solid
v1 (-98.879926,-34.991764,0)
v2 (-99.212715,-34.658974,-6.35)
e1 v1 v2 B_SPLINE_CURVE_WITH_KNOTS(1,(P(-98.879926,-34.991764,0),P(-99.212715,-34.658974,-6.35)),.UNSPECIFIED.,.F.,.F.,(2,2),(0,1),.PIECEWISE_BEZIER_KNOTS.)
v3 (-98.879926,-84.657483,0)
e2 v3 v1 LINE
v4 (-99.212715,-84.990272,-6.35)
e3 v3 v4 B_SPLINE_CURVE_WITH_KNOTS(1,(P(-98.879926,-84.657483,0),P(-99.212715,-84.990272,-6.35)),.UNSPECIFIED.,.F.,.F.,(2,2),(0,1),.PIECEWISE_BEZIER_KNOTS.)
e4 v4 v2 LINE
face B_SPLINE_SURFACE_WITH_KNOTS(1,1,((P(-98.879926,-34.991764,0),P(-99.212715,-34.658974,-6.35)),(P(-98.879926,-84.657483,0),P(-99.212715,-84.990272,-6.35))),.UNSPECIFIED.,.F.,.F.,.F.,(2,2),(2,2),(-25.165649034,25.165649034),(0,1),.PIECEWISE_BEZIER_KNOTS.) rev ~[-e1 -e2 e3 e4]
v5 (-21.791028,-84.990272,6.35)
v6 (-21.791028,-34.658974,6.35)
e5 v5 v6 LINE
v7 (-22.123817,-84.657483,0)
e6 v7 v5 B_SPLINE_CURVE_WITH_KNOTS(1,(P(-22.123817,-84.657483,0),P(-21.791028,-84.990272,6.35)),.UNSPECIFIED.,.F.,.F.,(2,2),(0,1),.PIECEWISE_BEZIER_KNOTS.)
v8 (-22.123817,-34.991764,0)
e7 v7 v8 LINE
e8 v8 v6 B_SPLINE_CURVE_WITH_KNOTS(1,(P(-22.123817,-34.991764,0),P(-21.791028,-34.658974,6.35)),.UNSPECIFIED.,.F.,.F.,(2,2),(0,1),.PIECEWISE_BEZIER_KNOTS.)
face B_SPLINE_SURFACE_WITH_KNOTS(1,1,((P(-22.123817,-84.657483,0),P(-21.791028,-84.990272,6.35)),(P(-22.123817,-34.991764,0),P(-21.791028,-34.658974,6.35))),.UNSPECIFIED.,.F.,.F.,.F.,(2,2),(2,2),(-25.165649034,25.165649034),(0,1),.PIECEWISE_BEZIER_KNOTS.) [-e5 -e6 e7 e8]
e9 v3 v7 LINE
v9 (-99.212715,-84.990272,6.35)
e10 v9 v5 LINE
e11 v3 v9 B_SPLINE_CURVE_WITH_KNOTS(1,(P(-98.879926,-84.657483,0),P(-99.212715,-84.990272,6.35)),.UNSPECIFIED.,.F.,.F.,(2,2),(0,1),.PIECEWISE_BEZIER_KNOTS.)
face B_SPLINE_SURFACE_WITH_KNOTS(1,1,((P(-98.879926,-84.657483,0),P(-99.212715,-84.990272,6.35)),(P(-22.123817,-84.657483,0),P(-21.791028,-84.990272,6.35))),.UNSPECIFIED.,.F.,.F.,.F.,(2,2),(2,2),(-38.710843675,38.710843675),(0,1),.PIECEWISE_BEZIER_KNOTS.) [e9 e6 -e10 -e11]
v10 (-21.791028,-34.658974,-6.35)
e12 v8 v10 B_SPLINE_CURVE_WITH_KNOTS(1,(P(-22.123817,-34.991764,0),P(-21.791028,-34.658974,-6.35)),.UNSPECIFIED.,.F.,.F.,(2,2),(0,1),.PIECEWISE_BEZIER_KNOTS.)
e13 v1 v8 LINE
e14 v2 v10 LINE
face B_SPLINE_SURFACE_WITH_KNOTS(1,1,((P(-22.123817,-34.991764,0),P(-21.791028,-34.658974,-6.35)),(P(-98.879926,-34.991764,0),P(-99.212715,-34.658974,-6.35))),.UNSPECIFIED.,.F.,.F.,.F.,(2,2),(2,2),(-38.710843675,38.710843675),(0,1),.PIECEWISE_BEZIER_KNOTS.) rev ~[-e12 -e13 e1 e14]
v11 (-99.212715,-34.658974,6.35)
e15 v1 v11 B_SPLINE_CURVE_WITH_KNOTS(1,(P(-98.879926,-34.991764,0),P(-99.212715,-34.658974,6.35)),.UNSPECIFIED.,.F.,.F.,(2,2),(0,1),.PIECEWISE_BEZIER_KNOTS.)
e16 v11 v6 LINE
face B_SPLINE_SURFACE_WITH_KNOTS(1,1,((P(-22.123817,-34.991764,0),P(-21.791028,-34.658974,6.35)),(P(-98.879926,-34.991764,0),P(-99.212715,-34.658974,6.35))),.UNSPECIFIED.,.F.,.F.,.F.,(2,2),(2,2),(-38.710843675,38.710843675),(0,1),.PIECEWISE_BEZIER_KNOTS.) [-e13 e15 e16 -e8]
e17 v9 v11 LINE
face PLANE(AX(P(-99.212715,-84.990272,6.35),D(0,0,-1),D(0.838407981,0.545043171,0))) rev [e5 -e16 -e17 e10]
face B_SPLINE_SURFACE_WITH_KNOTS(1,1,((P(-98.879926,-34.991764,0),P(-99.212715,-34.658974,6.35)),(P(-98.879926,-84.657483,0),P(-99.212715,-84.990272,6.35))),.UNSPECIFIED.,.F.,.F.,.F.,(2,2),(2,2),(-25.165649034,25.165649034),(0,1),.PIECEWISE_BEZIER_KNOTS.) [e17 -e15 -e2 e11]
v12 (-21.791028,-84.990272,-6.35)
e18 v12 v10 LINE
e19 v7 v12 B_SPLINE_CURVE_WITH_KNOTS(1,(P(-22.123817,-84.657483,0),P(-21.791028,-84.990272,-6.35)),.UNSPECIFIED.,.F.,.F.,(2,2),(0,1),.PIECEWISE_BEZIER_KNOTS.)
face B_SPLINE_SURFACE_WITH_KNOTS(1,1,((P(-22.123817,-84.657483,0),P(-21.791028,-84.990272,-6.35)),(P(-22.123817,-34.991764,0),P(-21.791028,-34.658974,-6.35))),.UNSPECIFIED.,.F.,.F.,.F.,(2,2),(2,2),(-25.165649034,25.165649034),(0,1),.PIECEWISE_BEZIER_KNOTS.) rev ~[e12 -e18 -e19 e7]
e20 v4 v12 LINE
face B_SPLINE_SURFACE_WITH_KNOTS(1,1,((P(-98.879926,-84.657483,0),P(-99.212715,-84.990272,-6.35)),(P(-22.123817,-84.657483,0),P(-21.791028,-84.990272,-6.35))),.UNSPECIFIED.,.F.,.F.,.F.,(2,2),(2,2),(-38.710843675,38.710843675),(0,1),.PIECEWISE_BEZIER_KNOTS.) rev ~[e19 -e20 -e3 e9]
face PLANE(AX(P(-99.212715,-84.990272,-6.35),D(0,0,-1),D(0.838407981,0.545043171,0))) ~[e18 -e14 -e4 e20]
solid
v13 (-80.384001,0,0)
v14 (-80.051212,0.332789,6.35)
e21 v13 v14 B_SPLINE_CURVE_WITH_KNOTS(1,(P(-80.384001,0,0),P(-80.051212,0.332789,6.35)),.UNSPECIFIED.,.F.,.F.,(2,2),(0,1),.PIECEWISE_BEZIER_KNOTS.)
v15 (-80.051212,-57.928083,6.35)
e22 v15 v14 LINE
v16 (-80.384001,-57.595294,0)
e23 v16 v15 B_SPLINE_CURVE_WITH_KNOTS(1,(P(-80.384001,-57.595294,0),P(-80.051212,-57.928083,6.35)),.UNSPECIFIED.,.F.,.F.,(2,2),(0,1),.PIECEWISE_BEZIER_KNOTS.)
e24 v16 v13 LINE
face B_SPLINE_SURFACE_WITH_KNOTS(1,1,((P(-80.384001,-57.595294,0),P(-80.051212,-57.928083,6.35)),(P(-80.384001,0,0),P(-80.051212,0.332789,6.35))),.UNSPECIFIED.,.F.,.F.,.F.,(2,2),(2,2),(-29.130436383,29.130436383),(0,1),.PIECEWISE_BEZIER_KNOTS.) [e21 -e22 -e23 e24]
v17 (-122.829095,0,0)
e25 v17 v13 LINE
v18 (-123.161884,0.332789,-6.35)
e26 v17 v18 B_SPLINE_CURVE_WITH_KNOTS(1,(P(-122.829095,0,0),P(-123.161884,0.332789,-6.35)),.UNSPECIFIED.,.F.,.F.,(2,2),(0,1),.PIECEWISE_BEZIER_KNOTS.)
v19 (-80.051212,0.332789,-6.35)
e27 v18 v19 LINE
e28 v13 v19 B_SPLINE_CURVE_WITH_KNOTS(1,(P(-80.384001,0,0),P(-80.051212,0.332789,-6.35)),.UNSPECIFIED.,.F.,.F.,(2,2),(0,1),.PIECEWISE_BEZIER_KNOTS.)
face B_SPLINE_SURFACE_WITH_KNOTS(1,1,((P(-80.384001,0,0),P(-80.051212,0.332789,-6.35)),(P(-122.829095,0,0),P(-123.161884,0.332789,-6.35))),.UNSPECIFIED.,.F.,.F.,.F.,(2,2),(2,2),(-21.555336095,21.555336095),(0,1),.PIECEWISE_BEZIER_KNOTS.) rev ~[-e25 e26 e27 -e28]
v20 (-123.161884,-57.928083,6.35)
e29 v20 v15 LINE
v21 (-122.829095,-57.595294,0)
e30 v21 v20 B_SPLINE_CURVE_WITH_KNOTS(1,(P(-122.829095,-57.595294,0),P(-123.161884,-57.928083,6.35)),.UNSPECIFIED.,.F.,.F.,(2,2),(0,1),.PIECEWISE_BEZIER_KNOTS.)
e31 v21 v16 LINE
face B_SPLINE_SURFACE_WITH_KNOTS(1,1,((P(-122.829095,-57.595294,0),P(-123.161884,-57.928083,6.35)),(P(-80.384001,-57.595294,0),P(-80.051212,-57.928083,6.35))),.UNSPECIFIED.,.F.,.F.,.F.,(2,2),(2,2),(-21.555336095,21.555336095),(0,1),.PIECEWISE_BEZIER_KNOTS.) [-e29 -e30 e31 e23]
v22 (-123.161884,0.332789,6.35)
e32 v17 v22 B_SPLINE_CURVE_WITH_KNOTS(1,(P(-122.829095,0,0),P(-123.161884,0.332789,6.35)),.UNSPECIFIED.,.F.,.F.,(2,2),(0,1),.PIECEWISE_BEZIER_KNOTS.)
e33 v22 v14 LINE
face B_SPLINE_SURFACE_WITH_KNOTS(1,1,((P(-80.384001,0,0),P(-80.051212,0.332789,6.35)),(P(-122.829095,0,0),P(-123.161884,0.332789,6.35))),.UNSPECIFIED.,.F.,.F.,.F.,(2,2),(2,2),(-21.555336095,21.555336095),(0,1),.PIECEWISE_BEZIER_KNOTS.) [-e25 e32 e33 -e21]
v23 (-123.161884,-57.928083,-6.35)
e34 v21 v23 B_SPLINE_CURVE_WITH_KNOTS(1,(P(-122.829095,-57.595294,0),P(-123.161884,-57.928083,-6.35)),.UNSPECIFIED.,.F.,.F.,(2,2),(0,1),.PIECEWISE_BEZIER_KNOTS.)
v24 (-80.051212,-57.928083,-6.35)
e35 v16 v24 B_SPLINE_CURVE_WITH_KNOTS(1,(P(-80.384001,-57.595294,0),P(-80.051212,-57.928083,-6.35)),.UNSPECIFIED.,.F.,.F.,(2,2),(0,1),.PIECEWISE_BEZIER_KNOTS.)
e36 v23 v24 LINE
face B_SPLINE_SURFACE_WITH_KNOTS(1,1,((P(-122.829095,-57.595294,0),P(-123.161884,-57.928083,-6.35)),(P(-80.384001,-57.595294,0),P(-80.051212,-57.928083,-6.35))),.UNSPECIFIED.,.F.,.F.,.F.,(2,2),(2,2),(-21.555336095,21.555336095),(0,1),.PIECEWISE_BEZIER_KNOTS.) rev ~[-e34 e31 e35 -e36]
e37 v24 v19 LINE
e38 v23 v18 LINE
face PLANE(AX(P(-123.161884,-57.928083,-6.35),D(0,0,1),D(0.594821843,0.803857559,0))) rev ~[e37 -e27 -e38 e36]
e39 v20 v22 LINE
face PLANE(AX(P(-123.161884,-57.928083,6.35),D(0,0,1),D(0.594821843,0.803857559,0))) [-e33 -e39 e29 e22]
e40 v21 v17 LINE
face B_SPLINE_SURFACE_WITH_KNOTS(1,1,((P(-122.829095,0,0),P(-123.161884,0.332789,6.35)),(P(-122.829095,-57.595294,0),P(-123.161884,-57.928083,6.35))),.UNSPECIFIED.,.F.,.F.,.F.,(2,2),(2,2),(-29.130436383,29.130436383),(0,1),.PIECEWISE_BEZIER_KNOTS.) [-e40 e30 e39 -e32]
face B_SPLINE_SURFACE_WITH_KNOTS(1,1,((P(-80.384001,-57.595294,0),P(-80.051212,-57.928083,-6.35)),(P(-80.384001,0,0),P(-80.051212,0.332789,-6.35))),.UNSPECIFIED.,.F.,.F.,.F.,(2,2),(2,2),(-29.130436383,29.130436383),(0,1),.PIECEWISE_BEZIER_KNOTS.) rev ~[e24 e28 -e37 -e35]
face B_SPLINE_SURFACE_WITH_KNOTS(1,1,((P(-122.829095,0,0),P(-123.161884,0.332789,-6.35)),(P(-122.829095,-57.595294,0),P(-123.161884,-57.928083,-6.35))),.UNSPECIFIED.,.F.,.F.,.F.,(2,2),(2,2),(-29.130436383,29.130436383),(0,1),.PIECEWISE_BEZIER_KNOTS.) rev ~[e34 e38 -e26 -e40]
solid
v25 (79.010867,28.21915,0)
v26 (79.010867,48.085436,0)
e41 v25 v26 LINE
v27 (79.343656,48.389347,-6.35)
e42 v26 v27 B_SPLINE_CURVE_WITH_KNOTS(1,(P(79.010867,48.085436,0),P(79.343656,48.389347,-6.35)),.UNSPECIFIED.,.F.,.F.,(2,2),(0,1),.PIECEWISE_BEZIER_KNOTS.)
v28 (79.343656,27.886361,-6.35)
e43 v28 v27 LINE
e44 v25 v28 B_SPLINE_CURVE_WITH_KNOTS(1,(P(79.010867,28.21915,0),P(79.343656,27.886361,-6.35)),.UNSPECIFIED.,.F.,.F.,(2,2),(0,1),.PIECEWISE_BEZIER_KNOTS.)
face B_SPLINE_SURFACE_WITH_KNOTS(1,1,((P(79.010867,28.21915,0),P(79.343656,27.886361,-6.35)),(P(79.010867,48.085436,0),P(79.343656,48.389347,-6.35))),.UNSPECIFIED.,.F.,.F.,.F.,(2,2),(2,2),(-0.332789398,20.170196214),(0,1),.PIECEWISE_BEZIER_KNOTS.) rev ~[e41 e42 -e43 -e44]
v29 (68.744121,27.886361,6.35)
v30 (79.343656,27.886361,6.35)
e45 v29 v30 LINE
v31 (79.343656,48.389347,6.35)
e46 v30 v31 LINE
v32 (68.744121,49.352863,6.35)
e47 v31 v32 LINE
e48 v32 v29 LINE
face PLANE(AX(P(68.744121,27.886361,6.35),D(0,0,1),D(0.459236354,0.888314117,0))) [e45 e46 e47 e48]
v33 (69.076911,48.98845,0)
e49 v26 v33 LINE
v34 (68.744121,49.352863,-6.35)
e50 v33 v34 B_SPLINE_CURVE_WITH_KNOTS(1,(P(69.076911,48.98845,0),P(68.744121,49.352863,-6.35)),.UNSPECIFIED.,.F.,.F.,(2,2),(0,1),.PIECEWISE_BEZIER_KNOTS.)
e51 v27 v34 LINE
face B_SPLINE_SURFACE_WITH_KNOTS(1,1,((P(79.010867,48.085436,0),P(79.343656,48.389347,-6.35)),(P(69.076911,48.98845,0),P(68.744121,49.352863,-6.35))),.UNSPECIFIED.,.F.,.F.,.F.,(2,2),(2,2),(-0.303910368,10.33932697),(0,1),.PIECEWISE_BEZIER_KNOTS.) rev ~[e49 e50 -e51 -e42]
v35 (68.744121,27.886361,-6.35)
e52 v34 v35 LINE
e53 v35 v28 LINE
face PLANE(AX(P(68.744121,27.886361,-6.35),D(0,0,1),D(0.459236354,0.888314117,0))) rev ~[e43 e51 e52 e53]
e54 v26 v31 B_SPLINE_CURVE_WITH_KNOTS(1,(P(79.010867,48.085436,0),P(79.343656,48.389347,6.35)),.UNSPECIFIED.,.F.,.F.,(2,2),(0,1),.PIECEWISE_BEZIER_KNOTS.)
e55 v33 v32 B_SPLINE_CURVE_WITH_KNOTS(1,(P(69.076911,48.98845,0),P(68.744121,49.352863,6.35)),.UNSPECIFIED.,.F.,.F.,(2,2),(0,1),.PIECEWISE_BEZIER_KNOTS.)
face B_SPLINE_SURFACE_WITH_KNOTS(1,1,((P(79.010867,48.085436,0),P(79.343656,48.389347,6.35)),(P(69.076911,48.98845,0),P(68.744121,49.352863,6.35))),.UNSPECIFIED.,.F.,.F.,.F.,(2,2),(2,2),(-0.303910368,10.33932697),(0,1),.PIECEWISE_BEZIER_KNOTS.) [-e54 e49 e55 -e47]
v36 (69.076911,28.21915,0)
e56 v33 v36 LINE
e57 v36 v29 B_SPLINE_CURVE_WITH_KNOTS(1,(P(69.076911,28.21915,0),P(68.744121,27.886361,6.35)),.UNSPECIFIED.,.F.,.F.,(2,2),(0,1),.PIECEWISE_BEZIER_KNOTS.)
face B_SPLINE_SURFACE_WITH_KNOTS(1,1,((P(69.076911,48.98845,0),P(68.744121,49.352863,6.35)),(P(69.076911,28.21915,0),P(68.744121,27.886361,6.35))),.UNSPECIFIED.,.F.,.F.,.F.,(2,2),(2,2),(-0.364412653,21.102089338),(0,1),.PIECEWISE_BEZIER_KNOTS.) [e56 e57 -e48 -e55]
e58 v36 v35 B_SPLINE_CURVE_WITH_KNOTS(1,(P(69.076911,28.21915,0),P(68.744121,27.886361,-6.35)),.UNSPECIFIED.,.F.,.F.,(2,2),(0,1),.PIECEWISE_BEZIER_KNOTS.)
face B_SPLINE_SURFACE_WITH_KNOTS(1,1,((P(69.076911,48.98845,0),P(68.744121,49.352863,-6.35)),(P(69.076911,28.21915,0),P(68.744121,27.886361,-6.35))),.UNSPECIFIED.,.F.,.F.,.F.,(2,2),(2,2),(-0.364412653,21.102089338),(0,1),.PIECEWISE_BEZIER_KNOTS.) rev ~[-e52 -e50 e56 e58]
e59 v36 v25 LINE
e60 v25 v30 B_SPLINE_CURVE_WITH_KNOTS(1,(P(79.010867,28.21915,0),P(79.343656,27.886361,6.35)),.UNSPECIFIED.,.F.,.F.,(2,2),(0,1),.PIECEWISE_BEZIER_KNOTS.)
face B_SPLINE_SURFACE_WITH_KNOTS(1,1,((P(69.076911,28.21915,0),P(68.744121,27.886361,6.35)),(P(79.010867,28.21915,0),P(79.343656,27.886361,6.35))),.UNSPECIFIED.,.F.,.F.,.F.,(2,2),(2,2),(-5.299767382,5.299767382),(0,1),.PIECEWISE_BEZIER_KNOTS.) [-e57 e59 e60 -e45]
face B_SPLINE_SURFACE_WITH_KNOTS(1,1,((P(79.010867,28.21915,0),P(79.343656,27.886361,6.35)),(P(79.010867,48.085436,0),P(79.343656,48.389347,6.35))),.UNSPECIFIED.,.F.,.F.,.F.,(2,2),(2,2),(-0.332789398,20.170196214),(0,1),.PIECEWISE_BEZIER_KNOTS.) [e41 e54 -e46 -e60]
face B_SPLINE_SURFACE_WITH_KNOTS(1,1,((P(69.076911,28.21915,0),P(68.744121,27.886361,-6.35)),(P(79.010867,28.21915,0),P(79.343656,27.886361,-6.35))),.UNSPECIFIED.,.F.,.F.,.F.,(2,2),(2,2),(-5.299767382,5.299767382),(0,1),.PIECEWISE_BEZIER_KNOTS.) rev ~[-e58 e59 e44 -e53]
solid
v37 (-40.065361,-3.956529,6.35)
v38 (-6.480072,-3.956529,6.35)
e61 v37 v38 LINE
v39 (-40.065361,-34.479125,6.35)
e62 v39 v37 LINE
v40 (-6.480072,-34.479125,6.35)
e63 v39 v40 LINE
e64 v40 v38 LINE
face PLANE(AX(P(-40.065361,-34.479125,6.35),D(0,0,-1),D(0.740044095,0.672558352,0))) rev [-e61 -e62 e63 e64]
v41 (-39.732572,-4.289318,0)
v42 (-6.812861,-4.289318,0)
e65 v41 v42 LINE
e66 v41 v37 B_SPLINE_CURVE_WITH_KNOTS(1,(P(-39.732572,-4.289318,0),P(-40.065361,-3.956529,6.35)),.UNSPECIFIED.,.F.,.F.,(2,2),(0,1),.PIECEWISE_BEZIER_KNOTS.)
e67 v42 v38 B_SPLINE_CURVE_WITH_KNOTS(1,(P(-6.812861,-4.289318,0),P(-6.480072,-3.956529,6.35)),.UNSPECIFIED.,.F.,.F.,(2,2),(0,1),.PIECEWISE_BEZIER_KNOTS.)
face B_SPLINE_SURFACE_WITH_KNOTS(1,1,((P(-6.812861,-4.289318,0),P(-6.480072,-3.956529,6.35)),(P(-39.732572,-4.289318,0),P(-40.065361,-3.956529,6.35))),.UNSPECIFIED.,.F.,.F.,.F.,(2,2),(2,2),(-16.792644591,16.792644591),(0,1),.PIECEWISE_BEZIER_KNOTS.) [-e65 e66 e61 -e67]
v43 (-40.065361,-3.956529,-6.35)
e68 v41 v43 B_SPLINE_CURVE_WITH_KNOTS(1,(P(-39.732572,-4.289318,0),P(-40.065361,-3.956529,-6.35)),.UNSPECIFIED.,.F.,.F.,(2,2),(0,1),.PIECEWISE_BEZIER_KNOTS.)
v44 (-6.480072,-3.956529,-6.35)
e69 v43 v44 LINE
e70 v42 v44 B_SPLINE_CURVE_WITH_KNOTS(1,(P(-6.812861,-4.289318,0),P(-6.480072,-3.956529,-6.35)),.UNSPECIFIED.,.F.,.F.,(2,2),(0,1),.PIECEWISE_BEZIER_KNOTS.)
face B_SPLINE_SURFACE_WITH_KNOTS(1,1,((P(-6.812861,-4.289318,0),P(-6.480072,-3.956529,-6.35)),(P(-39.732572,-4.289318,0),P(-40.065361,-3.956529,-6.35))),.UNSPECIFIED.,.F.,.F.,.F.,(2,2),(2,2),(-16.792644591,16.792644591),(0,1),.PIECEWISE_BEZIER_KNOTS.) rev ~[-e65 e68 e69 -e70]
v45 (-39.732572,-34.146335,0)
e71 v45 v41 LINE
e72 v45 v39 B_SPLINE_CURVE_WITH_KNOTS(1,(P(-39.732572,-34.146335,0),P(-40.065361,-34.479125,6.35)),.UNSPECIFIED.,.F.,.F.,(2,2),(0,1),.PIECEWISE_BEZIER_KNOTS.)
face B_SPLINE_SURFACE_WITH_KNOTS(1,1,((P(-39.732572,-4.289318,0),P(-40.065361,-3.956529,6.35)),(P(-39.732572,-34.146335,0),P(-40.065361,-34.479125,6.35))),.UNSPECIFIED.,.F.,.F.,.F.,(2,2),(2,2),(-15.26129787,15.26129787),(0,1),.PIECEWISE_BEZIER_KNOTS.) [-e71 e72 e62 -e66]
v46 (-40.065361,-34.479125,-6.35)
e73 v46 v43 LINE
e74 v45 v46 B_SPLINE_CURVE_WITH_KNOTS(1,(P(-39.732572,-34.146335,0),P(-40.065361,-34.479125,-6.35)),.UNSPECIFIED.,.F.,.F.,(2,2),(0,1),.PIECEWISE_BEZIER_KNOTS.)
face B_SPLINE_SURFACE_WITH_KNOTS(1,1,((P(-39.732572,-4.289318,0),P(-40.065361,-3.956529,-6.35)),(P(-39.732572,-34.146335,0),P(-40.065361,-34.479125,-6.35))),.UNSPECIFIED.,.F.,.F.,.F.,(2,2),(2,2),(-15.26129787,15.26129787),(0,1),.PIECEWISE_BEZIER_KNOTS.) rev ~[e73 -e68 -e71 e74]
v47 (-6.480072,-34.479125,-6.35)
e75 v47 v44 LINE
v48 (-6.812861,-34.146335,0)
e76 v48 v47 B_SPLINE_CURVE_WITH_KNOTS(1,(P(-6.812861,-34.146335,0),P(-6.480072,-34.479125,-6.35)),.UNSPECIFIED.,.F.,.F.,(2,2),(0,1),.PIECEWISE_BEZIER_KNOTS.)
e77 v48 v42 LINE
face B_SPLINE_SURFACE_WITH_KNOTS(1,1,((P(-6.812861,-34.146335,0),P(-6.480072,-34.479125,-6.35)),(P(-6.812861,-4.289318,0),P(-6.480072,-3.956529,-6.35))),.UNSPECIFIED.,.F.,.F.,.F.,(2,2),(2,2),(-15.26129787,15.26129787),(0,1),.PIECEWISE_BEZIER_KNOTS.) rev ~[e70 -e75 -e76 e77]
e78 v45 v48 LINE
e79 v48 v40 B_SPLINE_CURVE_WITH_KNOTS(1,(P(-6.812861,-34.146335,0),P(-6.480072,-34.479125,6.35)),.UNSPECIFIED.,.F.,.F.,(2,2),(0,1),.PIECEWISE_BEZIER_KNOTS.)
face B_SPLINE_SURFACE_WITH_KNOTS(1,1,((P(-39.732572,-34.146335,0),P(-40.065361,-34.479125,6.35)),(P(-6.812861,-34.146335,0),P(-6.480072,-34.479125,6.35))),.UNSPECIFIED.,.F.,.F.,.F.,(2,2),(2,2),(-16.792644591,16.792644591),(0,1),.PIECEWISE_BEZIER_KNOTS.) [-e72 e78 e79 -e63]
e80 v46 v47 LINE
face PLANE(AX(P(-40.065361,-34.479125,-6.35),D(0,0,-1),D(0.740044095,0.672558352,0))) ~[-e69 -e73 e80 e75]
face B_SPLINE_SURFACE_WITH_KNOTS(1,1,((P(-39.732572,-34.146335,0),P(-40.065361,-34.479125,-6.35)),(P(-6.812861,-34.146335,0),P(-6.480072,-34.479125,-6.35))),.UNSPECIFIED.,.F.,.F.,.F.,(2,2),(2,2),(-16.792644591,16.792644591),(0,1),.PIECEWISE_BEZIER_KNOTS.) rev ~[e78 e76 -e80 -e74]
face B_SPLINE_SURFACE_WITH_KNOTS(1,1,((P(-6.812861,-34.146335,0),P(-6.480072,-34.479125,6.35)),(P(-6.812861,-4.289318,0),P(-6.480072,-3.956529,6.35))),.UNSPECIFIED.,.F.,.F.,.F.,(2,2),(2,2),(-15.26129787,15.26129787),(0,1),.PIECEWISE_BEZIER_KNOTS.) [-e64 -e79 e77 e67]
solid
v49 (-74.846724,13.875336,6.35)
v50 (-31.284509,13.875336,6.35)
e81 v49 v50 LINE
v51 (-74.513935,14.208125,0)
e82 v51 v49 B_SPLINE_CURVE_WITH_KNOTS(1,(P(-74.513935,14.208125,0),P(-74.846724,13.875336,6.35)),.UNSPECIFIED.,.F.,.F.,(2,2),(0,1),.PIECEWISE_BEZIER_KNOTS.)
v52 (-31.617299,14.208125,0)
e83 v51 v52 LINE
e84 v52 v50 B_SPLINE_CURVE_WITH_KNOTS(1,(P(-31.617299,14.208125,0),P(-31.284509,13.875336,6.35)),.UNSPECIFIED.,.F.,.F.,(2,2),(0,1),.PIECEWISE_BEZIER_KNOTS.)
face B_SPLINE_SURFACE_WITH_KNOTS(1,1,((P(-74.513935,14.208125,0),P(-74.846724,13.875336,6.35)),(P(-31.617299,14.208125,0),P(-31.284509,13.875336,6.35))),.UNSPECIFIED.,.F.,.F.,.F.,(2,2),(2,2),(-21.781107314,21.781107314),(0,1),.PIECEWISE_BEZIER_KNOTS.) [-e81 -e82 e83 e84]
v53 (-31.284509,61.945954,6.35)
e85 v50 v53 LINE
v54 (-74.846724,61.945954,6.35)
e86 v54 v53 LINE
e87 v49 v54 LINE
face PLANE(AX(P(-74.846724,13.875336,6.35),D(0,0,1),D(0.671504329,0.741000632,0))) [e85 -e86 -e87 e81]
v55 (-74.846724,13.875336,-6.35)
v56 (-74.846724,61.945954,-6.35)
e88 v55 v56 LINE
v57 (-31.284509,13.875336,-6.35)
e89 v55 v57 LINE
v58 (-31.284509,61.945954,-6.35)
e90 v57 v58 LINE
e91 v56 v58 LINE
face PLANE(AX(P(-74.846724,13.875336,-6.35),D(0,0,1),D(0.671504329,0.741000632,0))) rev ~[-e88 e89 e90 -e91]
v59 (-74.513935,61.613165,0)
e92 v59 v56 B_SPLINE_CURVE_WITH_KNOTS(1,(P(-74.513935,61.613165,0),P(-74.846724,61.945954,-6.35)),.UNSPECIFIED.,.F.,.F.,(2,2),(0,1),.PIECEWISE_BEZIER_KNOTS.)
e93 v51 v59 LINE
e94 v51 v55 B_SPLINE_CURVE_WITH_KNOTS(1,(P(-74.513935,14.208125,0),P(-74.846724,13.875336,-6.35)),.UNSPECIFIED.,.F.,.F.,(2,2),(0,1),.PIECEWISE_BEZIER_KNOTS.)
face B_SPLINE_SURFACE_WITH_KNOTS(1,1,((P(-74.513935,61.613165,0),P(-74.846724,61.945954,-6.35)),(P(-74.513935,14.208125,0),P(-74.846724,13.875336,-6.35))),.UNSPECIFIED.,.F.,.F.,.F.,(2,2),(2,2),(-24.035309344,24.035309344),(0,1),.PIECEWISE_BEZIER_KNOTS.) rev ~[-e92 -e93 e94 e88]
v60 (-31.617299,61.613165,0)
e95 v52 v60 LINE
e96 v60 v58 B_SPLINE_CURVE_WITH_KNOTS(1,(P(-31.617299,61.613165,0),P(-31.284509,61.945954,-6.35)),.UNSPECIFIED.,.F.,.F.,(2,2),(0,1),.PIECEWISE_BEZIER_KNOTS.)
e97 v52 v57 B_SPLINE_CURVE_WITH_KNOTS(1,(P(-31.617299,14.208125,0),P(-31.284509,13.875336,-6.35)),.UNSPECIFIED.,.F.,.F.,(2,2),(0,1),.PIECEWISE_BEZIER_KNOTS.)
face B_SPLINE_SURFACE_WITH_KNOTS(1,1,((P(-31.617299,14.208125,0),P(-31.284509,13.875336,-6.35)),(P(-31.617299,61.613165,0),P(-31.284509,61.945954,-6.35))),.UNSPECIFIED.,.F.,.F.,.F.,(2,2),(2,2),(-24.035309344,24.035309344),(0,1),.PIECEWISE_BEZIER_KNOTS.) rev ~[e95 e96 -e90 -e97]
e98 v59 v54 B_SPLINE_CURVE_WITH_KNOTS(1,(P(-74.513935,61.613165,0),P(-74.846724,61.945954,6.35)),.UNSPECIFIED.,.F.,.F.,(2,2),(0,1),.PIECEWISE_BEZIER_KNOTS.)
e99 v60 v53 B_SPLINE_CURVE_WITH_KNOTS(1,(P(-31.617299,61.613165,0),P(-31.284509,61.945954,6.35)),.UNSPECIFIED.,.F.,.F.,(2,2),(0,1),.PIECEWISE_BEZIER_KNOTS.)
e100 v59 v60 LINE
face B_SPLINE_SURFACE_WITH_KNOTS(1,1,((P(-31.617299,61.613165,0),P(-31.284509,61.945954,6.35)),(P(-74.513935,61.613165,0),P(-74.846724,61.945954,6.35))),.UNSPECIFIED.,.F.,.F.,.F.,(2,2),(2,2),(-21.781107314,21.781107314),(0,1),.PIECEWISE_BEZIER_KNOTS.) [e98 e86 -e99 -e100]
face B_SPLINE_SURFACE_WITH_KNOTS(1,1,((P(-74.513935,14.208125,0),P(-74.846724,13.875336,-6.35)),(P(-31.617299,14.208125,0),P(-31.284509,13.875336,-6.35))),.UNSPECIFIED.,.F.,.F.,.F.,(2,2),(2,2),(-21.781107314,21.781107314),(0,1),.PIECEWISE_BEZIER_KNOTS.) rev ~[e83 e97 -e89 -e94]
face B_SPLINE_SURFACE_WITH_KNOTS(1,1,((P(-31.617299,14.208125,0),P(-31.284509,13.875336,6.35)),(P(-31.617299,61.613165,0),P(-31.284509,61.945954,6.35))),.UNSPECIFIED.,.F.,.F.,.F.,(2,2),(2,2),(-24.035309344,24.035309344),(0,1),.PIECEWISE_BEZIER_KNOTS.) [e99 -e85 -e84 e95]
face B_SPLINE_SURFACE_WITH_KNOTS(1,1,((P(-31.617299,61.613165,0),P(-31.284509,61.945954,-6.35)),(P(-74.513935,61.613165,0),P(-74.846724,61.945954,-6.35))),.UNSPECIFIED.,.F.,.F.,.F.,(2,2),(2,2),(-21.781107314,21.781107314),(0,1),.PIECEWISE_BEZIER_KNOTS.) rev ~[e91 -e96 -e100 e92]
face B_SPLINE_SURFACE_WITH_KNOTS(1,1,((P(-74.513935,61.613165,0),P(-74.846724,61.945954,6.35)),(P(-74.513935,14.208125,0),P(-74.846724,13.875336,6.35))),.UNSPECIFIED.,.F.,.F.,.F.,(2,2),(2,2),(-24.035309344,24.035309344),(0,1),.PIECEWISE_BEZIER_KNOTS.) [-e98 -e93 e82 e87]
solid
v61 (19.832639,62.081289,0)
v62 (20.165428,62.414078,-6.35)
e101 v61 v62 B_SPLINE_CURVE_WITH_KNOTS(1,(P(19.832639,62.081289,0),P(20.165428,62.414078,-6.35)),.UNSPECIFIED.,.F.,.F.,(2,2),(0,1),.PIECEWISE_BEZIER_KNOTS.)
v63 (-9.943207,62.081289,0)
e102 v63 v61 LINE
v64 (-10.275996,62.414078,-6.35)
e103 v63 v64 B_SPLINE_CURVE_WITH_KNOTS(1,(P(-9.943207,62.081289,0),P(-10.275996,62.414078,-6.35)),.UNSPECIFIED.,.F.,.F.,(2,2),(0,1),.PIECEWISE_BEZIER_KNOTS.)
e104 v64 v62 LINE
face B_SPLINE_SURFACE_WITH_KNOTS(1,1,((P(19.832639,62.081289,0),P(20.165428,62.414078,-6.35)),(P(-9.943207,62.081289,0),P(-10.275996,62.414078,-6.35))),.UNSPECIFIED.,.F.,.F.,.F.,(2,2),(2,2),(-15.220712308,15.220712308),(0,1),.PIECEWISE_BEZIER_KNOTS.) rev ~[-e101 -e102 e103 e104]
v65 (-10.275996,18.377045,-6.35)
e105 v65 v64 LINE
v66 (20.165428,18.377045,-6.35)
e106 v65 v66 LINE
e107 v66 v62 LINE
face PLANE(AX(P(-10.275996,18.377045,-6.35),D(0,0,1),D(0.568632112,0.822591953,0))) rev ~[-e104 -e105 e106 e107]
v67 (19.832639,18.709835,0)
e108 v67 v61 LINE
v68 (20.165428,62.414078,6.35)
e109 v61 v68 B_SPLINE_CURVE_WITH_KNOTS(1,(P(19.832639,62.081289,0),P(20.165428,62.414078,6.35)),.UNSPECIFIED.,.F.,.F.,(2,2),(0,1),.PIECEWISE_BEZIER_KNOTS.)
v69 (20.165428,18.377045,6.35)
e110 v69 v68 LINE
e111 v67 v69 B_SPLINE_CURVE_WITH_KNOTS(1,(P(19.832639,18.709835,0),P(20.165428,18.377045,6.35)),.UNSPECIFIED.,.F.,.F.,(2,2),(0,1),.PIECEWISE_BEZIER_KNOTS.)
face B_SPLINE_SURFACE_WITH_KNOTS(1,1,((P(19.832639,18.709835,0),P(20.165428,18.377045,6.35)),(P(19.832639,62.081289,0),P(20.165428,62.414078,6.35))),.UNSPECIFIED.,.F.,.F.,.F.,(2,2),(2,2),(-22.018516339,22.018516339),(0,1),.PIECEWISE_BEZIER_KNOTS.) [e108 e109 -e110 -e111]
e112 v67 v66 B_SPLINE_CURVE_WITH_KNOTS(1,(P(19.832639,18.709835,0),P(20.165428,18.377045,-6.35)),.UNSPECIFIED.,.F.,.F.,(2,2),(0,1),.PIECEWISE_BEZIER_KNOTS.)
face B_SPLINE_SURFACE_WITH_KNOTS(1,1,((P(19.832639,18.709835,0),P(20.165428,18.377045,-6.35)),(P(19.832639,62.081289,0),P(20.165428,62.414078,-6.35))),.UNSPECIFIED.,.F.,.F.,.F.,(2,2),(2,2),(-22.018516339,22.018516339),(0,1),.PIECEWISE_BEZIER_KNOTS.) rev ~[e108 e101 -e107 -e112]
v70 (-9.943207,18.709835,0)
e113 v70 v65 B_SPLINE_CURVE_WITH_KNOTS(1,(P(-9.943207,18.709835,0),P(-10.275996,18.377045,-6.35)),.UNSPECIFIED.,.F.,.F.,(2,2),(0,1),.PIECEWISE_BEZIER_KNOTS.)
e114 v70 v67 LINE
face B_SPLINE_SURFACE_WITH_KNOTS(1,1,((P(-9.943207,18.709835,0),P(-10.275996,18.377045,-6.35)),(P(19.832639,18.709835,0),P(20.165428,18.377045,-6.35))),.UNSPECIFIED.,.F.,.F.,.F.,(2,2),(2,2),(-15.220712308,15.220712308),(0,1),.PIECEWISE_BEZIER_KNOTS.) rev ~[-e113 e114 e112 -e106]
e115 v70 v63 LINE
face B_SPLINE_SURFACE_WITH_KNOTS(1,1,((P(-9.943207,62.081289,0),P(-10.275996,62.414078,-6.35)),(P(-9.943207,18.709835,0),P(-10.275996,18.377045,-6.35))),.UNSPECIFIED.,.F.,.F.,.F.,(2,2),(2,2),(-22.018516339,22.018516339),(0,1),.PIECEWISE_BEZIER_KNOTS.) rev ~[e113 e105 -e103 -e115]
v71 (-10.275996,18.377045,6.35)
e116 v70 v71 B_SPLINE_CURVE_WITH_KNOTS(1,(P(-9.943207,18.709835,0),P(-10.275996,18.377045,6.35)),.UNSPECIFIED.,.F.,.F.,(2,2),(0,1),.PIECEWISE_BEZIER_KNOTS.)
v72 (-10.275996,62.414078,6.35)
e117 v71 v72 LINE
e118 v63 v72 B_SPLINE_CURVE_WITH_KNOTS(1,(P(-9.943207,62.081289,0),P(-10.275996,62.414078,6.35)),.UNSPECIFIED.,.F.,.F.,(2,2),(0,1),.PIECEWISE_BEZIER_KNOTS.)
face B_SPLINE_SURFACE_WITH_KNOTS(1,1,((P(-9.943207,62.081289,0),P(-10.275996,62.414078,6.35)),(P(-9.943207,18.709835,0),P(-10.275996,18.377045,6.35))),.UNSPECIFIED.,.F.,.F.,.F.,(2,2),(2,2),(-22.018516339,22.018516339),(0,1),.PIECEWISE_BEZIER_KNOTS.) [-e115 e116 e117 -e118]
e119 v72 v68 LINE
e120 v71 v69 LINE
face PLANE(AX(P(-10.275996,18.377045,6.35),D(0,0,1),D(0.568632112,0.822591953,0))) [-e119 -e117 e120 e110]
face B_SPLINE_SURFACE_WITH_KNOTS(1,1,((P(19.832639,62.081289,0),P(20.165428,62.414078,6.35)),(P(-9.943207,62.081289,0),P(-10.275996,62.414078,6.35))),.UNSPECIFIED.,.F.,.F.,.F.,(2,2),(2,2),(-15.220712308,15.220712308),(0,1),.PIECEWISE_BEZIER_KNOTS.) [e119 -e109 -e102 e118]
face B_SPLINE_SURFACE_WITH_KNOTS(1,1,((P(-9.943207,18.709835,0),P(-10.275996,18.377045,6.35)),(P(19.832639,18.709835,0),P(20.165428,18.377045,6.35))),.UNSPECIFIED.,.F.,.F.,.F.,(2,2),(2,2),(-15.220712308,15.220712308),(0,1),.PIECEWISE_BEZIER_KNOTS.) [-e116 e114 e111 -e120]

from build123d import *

# Parameters (mm, degrees)
F0_W     = 76.7561085522
F0_H     = 49.6657192707
F6_DEPTH = 6.35
F6_TAPER = -3
F5_W     = 42.4450933933
F5_H     = 57.5952939689
F1_W     = 32.919710385
F1_H     = 29.8570169423
F3_W     = 29.7758458182
F3_H     = 43.3714538813
F2_W     = 9.9339559674
F2_H     = 13.9966998249
F4_W     = 42.8966358304
F4_H     = 47.4050398916


with BuildPart() as f6:
    # F0 (on Top) → F6 (new body, symmetric)
    with BuildSketch(Plane.XY):
        with Locations((-60.5018716305, -59.8246231675)):
            Rectangle(F0_W, F0_H)
    extrude(amount=F6_DEPTH, both=True, taper=F6_TAPER)


with BuildPart() as f6b:
    # F5 (on Top) → F6, piece 2 (new body, symmetric)
    with BuildSketch(Plane.XY):
        with Locations((-101.6065478325, -28.7976469845)):
            Rectangle(F5_W, F5_H)
    extrude(amount=F6_DEPTH, both=True, taper=F6_TAPER)


with BuildPart() as f6c:
    # F1 (on Top) → F6, piece 3 (new body, symmetric)
    with BuildSketch(Plane.XY):
        with Locations((-23.2727164988, -19.2178268129)):
            Rectangle(F1_W, F1_H)
    extrude(amount=F6_DEPTH, both=True, taper=F6_TAPER)


with BuildPart() as f6d:
    # F3 (on Top) → F6, piece 4 (new body, symmetric)
    with BuildSketch(Plane.XY):
        with Locations((4.9447161146, 40.3955616057)):
            Rectangle(F3_W, F3_H)
    extrude(amount=F6_DEPTH, both=True, taper=F6_TAPER)


with BuildPart() as f6e:
    # F2 (on Top) → F6, piece 5 (new body, symmetric)
    with BuildSketch(Plane.XY):
        with Locations((74.0438885987, 35.2175002918)):
            Rectangle(F2_W, F2_H)
        Polygon((69.076910615, 48.9884503186), (69.076910615, 42.2158502042), (79.0108665824, 42.2158502042), (79.0108665824, 48.0854362249), align=None)
    extrude(amount=F6_DEPTH, both=True, taper=F6_TAPER)


with BuildPart() as f6f:
    # F4 (on Top) → F6, piece 6 (new body, symmetric)
    with BuildSketch(Plane.XY):
        with Locations((-53.0656166375, 37.9106448963)):
            Rectangle(F4_W, F4_H)
    extrude(amount=F6_DEPTH, both=True, taper=F6_TAPER)


solid = Compound([f6.part, f6b.part, f6c.part, f6d.part, f6e.part, f6f.part])
